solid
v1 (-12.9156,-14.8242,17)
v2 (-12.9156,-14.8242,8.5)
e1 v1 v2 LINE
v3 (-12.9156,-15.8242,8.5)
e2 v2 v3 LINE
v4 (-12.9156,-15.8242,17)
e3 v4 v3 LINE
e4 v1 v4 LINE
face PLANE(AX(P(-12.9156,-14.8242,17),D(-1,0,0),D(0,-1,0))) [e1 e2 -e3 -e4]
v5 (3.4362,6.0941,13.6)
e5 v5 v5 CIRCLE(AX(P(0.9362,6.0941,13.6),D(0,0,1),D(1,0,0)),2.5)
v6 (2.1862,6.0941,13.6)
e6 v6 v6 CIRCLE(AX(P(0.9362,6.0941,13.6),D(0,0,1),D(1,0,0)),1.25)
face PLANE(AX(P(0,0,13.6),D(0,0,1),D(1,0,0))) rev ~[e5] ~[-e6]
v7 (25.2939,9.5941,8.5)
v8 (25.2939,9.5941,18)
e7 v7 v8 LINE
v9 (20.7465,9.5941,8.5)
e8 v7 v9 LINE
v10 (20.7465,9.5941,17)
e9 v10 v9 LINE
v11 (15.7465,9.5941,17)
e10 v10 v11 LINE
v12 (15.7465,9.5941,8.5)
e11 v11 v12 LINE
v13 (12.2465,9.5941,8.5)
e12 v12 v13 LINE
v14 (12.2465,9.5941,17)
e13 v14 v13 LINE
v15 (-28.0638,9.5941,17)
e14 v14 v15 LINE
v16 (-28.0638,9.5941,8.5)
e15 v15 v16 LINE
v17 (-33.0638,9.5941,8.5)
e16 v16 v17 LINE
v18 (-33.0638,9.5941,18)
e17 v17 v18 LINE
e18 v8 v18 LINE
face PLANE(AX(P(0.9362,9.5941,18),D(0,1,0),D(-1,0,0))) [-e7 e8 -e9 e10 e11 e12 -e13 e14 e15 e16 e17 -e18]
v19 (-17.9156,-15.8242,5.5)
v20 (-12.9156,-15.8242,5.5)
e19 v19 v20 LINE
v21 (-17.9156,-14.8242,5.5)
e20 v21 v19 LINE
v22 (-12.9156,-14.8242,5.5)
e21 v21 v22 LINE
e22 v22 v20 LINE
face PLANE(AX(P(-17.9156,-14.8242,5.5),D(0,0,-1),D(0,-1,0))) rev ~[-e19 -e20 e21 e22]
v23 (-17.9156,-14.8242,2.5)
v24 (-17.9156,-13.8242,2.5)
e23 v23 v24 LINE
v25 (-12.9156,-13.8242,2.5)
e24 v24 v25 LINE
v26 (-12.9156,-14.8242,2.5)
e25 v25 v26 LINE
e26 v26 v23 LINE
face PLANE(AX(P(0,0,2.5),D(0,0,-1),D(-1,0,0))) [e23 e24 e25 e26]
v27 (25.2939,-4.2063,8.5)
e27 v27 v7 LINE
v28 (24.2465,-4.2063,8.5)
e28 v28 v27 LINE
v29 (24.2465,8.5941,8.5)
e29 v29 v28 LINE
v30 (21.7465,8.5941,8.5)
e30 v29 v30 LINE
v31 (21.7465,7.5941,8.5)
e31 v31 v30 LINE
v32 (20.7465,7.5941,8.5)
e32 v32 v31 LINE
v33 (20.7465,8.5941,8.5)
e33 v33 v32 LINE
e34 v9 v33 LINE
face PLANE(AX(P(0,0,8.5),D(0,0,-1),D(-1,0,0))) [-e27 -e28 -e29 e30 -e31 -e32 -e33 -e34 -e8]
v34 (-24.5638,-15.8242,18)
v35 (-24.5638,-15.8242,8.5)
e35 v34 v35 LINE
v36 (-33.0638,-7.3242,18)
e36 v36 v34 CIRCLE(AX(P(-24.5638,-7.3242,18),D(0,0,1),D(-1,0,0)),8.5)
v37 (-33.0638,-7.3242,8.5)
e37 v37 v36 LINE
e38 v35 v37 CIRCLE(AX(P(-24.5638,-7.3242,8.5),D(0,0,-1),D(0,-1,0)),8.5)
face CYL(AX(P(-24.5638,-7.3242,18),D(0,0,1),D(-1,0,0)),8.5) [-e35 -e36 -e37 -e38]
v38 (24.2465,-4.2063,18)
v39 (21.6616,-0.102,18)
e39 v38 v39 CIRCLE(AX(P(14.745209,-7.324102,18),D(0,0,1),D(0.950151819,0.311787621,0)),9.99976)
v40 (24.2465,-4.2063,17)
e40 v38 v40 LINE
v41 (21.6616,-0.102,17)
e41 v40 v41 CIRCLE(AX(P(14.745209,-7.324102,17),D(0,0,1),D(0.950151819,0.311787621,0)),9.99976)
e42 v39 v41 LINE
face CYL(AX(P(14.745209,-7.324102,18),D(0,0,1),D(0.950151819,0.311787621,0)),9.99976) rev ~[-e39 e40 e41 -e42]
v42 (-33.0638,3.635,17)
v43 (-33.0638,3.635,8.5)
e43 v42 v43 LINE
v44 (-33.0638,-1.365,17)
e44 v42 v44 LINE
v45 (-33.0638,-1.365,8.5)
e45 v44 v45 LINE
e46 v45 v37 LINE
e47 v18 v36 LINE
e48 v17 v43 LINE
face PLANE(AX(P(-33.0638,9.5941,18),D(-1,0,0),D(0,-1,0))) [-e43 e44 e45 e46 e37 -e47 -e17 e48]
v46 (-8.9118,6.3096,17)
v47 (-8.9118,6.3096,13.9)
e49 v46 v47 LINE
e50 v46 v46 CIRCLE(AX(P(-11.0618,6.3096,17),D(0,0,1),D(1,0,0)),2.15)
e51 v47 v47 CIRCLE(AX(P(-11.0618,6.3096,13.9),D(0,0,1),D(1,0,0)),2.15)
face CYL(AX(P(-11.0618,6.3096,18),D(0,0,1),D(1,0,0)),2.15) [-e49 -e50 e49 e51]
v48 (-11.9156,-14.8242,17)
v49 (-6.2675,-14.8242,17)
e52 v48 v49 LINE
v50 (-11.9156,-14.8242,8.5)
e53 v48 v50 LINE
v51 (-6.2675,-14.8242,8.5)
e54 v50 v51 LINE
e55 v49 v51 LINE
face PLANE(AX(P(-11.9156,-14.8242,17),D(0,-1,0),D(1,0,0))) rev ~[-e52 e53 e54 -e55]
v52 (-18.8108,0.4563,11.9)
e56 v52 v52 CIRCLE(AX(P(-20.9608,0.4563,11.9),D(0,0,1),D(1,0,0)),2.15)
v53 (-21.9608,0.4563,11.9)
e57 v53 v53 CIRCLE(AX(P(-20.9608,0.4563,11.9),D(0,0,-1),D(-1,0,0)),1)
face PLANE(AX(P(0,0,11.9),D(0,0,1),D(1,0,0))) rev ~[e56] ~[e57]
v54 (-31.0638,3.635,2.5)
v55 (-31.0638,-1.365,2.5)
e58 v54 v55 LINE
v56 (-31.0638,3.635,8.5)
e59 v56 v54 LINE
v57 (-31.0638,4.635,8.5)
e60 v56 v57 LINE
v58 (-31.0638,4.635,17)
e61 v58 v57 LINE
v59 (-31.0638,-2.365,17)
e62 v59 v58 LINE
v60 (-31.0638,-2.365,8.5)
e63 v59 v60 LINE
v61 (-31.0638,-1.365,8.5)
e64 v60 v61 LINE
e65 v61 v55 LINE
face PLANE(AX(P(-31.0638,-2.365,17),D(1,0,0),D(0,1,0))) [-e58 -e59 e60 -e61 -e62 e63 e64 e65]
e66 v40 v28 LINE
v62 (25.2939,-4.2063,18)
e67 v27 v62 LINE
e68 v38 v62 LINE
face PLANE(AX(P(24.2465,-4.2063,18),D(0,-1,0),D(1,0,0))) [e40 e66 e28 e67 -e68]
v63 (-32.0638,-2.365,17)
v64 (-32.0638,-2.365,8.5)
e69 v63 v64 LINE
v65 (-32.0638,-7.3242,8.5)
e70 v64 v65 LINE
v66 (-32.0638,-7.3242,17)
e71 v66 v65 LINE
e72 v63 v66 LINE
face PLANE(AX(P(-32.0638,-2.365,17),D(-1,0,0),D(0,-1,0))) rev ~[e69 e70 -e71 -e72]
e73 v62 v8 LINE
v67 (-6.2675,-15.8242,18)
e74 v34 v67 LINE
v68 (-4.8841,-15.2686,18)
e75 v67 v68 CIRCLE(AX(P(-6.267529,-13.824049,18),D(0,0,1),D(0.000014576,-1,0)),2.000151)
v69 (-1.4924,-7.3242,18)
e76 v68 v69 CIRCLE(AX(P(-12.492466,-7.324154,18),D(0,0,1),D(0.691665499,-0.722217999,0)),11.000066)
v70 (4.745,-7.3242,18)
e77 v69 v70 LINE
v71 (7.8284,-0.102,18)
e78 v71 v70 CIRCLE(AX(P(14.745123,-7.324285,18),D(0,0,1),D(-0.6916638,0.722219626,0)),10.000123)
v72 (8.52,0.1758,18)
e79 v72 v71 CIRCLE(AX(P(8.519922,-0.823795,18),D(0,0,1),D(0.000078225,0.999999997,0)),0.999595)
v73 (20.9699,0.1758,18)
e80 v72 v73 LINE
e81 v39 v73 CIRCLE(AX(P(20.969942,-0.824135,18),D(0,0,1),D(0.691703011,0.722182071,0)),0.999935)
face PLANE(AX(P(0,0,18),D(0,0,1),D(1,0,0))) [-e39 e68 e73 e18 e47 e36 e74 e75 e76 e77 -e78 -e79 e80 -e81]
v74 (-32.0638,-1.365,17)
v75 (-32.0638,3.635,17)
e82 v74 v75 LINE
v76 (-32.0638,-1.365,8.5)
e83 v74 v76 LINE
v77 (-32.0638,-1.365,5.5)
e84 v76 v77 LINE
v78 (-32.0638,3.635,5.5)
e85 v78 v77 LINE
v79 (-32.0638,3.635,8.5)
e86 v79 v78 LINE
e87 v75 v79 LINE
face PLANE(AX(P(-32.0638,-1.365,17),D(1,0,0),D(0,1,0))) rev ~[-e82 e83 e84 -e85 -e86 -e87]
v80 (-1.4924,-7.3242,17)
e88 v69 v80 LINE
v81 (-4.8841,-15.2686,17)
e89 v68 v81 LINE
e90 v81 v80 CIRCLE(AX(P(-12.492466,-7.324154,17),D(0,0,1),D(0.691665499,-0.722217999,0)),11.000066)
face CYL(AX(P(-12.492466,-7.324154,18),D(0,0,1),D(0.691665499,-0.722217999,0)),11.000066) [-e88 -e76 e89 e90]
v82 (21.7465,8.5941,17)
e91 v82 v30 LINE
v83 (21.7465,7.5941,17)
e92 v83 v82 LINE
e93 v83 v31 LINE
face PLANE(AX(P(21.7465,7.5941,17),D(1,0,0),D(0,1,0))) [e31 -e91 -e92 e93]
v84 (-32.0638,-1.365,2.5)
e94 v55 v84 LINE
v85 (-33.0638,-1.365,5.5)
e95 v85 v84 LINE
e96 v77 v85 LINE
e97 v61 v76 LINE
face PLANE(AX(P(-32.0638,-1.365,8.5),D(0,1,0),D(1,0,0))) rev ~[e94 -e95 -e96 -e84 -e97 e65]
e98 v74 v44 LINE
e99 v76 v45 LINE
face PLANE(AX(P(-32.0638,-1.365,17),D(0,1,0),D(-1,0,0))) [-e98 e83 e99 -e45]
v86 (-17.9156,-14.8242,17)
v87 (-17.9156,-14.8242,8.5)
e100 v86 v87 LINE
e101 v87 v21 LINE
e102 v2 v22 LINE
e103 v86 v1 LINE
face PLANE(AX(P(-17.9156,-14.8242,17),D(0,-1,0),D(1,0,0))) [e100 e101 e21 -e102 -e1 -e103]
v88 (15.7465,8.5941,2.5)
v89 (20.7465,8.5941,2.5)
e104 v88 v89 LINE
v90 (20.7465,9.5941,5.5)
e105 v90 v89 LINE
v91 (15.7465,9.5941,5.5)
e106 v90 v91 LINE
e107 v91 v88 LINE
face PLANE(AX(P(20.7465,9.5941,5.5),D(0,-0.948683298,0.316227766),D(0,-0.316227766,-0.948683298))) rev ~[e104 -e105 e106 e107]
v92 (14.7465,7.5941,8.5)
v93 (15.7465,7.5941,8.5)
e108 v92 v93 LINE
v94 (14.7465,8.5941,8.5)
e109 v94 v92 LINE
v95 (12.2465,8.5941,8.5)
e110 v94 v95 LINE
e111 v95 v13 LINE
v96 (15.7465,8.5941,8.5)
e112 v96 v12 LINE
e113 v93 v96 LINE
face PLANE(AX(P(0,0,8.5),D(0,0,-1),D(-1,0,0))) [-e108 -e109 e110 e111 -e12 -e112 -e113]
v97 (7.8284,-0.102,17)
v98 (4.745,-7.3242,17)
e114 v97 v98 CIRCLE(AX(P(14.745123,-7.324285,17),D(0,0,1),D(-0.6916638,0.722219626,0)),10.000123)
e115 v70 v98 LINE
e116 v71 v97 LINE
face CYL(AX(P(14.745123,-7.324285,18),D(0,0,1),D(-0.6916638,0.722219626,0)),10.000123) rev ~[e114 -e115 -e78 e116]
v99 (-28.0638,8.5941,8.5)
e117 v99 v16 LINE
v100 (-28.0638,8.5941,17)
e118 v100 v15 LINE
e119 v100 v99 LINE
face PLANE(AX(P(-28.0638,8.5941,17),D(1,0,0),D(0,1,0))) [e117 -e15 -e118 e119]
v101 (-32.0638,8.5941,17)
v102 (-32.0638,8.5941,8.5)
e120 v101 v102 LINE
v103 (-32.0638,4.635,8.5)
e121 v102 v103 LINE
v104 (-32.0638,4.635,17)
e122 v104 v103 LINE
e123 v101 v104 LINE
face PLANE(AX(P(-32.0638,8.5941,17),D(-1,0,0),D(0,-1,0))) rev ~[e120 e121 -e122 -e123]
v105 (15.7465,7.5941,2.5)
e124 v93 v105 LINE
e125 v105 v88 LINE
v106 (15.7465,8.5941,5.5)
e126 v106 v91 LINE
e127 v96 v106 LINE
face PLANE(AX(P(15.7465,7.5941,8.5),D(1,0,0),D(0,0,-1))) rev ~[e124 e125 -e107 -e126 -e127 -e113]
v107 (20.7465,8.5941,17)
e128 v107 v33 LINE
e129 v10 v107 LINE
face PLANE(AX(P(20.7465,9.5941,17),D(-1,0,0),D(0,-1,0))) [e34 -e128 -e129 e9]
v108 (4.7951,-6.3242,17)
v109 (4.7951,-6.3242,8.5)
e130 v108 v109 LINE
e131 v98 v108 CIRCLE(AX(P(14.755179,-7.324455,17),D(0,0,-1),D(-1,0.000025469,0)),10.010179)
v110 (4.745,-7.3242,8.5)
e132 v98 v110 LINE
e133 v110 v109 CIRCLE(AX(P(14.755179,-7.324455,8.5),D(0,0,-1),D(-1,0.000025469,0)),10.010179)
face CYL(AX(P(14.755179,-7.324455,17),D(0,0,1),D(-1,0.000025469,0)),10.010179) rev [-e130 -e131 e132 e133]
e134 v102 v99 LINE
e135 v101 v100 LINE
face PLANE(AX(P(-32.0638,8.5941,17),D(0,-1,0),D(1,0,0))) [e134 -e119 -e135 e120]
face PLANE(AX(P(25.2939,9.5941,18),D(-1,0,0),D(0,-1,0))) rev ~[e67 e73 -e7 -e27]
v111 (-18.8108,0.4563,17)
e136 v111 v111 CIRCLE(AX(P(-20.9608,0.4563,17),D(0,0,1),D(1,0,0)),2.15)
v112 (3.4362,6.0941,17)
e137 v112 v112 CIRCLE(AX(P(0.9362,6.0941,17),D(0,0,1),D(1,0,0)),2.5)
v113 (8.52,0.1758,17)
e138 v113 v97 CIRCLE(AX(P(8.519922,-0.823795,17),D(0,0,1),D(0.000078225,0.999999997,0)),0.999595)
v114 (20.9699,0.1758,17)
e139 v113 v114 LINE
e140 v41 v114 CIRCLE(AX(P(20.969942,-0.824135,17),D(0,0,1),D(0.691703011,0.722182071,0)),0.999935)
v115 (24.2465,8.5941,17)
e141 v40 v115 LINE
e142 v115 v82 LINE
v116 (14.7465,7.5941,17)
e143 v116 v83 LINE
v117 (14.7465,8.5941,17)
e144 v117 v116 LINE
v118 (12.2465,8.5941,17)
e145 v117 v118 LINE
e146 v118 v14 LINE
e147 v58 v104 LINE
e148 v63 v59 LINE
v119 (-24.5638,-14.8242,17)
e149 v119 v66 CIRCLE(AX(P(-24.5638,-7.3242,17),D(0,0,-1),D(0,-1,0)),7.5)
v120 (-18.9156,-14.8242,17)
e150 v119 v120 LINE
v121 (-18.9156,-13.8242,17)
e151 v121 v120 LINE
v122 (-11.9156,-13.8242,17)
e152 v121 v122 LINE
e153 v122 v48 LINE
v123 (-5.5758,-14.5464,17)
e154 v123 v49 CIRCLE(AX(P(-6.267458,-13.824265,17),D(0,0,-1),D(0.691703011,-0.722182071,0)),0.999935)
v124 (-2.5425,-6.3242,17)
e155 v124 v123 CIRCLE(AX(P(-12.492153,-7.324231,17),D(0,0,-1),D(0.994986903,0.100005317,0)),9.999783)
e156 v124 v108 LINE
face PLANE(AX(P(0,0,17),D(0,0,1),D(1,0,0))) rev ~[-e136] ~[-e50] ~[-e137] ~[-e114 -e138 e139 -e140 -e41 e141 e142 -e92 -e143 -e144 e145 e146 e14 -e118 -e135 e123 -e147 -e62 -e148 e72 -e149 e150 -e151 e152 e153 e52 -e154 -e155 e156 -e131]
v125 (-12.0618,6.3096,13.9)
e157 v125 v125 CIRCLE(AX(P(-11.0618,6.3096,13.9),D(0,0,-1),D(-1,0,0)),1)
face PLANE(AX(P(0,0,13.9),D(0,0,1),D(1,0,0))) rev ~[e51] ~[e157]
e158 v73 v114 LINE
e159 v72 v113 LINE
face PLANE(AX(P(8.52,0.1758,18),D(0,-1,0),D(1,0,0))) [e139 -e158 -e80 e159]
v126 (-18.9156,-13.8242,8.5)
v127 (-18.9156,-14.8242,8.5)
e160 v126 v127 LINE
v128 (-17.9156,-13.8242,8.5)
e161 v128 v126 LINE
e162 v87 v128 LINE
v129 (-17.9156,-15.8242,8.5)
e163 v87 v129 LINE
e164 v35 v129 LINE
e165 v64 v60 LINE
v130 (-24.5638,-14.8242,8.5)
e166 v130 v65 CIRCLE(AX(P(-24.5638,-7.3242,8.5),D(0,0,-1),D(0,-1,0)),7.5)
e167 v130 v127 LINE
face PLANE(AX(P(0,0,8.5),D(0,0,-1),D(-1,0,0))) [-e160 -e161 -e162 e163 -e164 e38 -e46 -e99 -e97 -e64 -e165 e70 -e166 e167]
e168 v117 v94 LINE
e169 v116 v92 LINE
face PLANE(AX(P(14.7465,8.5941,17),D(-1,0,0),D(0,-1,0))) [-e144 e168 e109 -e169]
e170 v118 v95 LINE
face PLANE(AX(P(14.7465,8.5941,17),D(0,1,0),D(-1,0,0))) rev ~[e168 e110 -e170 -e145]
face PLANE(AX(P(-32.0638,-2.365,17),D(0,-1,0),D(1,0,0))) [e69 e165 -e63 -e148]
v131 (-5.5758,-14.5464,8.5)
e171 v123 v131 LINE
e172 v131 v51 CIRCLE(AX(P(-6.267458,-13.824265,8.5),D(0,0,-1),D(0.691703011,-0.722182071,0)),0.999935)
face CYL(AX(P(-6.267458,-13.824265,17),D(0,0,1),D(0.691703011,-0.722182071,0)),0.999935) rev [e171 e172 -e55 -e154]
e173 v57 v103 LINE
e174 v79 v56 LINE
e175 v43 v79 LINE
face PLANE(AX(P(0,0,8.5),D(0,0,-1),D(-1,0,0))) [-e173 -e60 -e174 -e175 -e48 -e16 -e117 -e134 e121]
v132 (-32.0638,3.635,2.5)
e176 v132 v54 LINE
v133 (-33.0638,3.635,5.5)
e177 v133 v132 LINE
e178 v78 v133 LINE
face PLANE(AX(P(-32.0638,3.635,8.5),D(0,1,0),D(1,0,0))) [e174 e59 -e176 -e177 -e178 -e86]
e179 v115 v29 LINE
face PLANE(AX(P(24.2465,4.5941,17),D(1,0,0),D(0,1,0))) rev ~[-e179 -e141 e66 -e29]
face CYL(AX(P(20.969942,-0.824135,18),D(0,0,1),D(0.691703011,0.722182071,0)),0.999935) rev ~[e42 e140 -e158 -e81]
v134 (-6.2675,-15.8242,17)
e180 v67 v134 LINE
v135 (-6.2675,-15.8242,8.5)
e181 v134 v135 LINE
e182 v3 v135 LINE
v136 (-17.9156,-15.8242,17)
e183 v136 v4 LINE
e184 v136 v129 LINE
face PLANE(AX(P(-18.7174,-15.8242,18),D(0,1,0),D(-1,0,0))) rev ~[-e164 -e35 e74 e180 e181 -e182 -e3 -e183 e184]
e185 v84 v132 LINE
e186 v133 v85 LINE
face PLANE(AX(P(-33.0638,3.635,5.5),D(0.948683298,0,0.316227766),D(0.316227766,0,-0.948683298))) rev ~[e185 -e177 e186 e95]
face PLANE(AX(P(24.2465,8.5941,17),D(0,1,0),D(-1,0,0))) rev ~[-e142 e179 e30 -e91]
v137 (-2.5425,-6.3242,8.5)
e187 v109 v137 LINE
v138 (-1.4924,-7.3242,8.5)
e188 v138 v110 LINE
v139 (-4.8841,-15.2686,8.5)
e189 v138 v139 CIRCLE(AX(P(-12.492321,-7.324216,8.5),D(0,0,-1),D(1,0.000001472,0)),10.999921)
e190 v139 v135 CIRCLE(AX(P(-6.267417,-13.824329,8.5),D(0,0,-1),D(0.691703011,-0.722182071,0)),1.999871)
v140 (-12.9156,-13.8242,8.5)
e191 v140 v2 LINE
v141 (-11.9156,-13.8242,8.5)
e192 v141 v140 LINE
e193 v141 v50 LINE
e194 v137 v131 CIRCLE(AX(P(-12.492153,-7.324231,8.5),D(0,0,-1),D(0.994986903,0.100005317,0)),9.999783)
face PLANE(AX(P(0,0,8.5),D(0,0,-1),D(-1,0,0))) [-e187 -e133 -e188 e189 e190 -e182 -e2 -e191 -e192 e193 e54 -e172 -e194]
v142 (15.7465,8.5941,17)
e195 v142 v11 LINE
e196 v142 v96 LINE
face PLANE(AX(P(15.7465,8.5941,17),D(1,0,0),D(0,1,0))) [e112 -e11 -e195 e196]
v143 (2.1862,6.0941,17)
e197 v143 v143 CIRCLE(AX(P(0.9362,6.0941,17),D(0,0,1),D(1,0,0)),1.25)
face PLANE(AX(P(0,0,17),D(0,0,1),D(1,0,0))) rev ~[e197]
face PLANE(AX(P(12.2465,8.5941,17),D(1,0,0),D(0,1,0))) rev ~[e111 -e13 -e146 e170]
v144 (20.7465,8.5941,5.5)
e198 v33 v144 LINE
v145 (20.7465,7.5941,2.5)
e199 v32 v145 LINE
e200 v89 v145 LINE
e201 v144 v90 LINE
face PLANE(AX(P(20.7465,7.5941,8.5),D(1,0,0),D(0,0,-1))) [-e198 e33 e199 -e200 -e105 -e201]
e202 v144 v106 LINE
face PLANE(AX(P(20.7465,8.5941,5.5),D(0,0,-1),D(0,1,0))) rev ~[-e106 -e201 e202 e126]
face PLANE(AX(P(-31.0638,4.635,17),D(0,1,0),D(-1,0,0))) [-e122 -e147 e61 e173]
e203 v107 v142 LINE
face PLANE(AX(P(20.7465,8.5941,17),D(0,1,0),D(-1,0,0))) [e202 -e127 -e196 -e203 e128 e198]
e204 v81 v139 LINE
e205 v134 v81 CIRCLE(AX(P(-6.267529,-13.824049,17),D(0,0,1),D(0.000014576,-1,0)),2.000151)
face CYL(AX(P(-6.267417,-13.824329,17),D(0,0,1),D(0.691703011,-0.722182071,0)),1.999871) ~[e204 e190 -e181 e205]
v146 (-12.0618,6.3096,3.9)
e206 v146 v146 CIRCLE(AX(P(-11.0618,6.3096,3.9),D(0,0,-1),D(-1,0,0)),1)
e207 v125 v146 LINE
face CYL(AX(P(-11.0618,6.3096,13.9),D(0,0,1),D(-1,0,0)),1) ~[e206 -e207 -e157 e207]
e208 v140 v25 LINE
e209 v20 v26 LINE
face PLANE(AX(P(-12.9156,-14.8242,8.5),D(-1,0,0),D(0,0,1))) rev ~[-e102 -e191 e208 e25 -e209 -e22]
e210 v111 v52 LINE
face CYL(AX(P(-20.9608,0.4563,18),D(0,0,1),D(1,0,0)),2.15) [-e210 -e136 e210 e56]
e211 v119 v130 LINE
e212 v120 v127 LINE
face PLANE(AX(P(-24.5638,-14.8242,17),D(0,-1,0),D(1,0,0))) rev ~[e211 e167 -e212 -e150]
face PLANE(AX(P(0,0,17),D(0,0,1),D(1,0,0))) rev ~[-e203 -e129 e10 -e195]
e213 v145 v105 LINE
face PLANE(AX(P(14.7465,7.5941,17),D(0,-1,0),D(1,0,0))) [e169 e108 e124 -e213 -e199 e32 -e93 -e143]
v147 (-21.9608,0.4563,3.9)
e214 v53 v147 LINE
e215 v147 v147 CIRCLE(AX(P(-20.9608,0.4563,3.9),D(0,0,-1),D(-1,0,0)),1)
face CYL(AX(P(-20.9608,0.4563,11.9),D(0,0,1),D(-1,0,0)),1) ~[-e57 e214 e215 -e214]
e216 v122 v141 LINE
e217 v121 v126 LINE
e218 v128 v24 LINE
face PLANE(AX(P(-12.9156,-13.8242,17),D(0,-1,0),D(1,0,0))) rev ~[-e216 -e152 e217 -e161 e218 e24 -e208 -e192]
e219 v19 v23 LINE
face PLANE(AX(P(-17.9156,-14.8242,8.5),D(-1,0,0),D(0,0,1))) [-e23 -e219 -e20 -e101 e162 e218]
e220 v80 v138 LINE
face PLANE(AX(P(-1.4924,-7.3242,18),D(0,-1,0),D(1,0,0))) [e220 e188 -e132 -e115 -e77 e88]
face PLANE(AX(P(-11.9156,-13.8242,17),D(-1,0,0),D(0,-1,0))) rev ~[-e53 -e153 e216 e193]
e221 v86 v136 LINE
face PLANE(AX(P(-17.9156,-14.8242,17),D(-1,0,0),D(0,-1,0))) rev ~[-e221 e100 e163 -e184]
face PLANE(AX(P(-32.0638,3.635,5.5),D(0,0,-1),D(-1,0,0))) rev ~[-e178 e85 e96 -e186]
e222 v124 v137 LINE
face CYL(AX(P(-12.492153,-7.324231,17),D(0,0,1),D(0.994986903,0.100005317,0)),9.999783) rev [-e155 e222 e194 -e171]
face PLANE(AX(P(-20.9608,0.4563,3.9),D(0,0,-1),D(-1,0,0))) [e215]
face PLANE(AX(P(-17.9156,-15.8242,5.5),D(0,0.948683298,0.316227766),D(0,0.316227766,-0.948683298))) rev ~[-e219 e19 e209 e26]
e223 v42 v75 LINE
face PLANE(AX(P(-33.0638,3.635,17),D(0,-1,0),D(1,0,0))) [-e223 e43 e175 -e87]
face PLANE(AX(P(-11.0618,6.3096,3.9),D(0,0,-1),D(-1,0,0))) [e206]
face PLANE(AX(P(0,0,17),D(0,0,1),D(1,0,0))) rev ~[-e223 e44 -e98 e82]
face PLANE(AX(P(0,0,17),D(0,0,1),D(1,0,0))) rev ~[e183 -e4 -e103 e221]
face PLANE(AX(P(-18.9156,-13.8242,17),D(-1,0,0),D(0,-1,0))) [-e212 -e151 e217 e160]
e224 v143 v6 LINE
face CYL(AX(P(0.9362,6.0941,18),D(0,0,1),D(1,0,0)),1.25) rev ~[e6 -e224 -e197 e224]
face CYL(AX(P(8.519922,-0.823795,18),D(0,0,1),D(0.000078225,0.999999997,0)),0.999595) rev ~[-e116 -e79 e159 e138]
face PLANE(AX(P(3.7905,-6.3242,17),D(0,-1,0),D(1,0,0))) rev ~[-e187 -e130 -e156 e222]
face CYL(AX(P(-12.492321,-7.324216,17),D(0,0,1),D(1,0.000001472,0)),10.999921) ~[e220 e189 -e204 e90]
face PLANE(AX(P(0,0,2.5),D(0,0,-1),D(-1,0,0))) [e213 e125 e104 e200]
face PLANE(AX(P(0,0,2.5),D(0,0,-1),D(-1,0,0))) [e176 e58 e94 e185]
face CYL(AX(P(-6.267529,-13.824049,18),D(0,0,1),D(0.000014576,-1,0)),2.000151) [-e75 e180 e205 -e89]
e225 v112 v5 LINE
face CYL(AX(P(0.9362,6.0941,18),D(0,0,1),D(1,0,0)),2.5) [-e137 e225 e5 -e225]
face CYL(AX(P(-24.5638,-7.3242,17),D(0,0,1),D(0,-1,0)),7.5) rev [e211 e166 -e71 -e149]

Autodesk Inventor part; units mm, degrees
ref_plane "Work Plane1" through (0, 0, 18) normal (0, 0, 1) x (1, 0, 0)
sketch "Sketch1" plane through (0, 0, 18) normal (0, 0, 1) x (1, 0, 0)
  circle A0 centre (0.9362, 6.0941) radius 2.5 projected
  circle A1 centre (0.9362, 6.0941) radius 1.25
  point P0 (0, 0)
ref_plane "Work Plane2" through (-2.3703, 2.7876, 13.6) normal (0, 0, 1) x (0.9119, -0.4105, 0)
ref_plane "Work Plane3" through (-2.3703, 2.7876, 13.6) normal (0, 0, 1) x (0.9119, -0.4105, 0)
extrude "Extrusion2" add sketch "Sketch1" against normal up to surface (4.4 mm away)
sketch "Sketch2" plane through (0, 0, 18) normal (0, 0, 1) x (1, 0, 0)
  circle A0 centre (-11.0618, 6.3096) radius 2.15 projected
  point P0 (0, 0)
ref_plane "Work Plane4" through (-14.169, 3.2822, 13.9) normal (0, 0, 1) x (0.9993, -0.0374, 0)
extrude "Extrusion3" add sketch "Sketch2" against normal up to surface (4.1 mm away)
sketch "Sketch3" plane through (-11.0618, 6.3096, 13.9) normal (0, 0, -1) x (-1, 0, 0)
  circle A0 centre (0, 0) radius 1 projected
  point P0 (-11.0618, -6.3096)
extrude "Extrusion4" add sketch "Sketch3" along normal blind 10
sketch "Sketch4" plane through (0, 0, 18) normal (0, 0, 1) x (1, 0, 0)
  circle A0 centre (-20.9608, 0.4563) radius 2.15 projected
  point P0 (0, 0)
ref_plane "Work Plane5" through (-25.1421, -3.7287, 11.9) normal (0, 0, 1) x (0.73, 0.6834, 0)
extrude "Extrusion5" add sketch "Sketch4" against normal up to surface (6.1 mm away)
sketch "Sketch5" plane through (-20.9608, 0.4563, 11.9) normal (0, 0, -1) x (-1, 0, 0)
  circle A0 centre (0, 0) radius 1 projected
  point P0 (-20.9608, -0.4563)
extrude "Extrusion6" add sketch "Sketch5" along normal up to surface (8 mm away)
sketch "Sketch6" plane through (0, 0, 18) normal (0, 0, 1) x (1, 0, 0)
  line L0 (-18.7174, -15.8242) -> (-6.2675, -15.8242)
  arc A0 (-6.2675, -15.8242) -> (-4.8841, -15.2686) centre (-6.2675, -13.8242) ccw
  arc A1 (-4.8841, -15.2686) -> (-1.4924, -7.3242) centre (-12.4924, -7.3242) ccw
  line L1 (-1.4924, -7.3242) -> (4.745, -7.3242)
  arc A2 (7.8284, -0.102) -> (4.745, -7.3242) centre (14.745, -7.3242) ccw
  arc A3 (8.52, 0.1758) -> (7.8284, -0.102) centre (8.52, -0.8242) ccw
  line L2 (8.52, 0.1758) -> (20.9699, 0.1758)
  arc A4 (21.6616, -0.102) -> (20.9699, 0.1758) centre (20.9699, -0.8242) ccw
  arc A5 (24.2465, -4.2063) -> (21.6616, -0.102) centre (14.745, -7.3242) ccw
  line L3 (24.2465, -4.2063) -> (25.2939, -4.2063)
  line L4 (25.2939, -4.2063) -> (25.2939, 8.6758)
  line L5 (0.9362, 9.5941) -> (25.2939, 9.5941)
  line L6 (25.2939, 9.5941) -> (25.2939, 8.6758)
  line L7 (0.9362, 9.5941) -> (-33.0638, 9.5941)
  line L8 (-33.0638, 9.5941) -> (-33.0638, -7.3242)
  line L9 (-18.7174, -15.8242) -> (-24.5638, -15.8242)
  arc A6 (-33.0638, -7.3242) -> (-24.5638, -15.8242) centre (-24.5638, -7.3242) ccw projected
  point P0 (0, 0)
extrude "Extrusion7" add sketch "Sketch6" against normal blind 1
sketch "Sketch7" plane through (0, 0, 17) normal (0, 0, -1) x (-1, 0, 0)
  arc A0 (4.8841, -15.2686) -> (6.2675, -15.8242) centre (6.2675, -13.8242) ccw
  arc A1 (1.4924, -7.3242) -> (4.8841, -15.2686) centre (12.4924, -7.3242) ccw
  line L0 (1.4924, -7.3242) -> (-4.745, -7.3242)
  arc A2 (-4.745, -7.3242) -> (-4.7951, -6.3242) centre (-14.745, -7.3242) ccw
  line L1 (-24.2465, -4.2063) -> (-25.2939, -4.2063)
  line L2 (-25.2939, -4.2063) -> (-25.2939, 9.5941)
  arc A3 (5.5758, -14.5464) -> (6.2675, -14.8242) centre (6.2675, -13.8242) ccw
  arc A4 (2.5425, -6.3242) -> (5.5758, -14.5464) centre (12.4924, -7.3242) ccw
  line L3 (2.5425, -6.3242) -> (-3.7905, -6.3242)
  line L4 (-13.2939, 9.5941) -> (-12.2465, 9.5941)
  line L5 (-24.2465, -4.2063) -> (-24.2465, 3.5941)
  line L6 (-24.2465, 4.5941) -> (-24.2465, 8.5941)
  line L7 (-3.7905, -6.3242) -> (-4.7951, -6.3242)
  line L8 (-24.2465, 3.5941) -> (-24.2465, 8.5941)
  arc A5 (24.5638, -14.8242) -> (32.0638, -7.3242) centre (24.5638, -7.3242) ccw projected
  arc A6 (24.5638, -15.8242) -> (33.0638, -7.3242) centre (24.5638, -7.3242) ccw projected
  line L9 (17.9156, -14.8242) -> (12.9156, -14.8242)
  line L10 (12.9156, -13.8242) -> (17.9156, -13.8242)
  line L11 (12.9156, -14.8242) -> (12.9156, -15.8242)
  line L12 (17.9156, -14.8242) -> (17.9156, -15.8242)
  line L13 (17.9156, -13.8242) -> (18.9156, -13.8242)
  line L14 (18.9156, -13.8242) -> (18.9156, -14.8242)
  line L15 (12.9156, -13.8242) -> (11.9156, -13.8242)
  line L16 (11.9156, -13.8242) -> (11.9156, -14.8242)
  line L17 (24.5638, -15.8242) -> (17.9156, -15.8242)
  line L18 (12.9156, -15.8242) -> (6.2675, -15.8242)
  line L19 (11.9156, -14.8242) -> (6.2675, -14.8242)
  line L20 (24.5638, -14.8242) -> (18.9156, -14.8242)
  line L21 (17.9156, -14.8242) -> (12.9156, -14.8242)
  line L22 (32.0638, -1.365) -> (32.0638, 3.635)
  line L23 (33.0638, 3.635) -> (32.0638, 3.635)
  line L24 (32.0638, 3.635) -> (32.0638, -1.365)
  line L25 (32.0638, -1.365) -> (33.0638, -1.365)
  line L26 (32.0638, -2.365) -> (31.0638, -2.365)
  line L27 (31.0638, -2.365) -> (31.0638, 4.635)
  line L28 (31.0638, 4.635) -> (32.0638, 4.635)
  line L29 (32.0638, -2.365) -> (32.0638, -7.3242)
  line L30 (32.0638, 8.5941) -> (32.0638, 4.635)
  line L31 (32.0638, 3.635) -> (32.0638, -1.365)
  line L32 (33.0638, 9.5941) -> (33.0638, 3.635)
  line L33 (33.0638, -1.365) -> (33.0638, -7.3242)
  line L34 (33.0638, 9.5941) -> (33.0638, 3.635)
  line L35 (33.0638, -1.365) -> (33.0638, -7.3242)
  line L36 (32.0638, 8.5941) -> (28.0638, 8.5941)
  line L37 (28.0638, 8.5941) -> (28.0638, 9.5941)
  line L38 (-12.2465, 8.5941) -> (-12.2465, 9.5941)
  line L39 (-20.7465, 9.5941) -> (-20.7465, 8.5941)
  line L40 (-20.7465, 8.5941) -> (-15.7465, 8.5941)
  line L41 (-15.7465, 8.5941) -> (-15.7465, 9.5941)
  line L42 (-14.7465, 7.5941) -> (-21.7465, 7.5941)
  line L43 (-21.7465, 7.5941) -> (-21.7465, 8.5941)
  line L44 (-14.7465, 8.5941) -> (-14.7465, 7.5941)
  line L45 (-24.2465, 8.5941) -> (-21.7465, 8.5941)
  line L46 (-20.7465, 8.5941) -> (-15.7465, 8.5941)
  line L47 (-14.7465, 8.5941) -> (-12.2465, 8.5941)
  line L48 (-25.2939, 9.5941) -> (-20.7465, 9.5941)
  line L49 (-15.7465, 9.5941) -> (33.0638, 9.5941)
  line L50 (33.0638, 9.5941) -> (-15.7465, 9.5941)
  line L51 (-20.7465, 9.5941) -> (-25.2939, 9.5941)
  line L52 (-25.2939, 9.5941) -> (-20.7465, 9.5941)
  line L53 (-15.7465, 9.5941) -> (33.0638, 9.5941)
  point P0 (0, 0)
  point P1 (32.0638, 9.5941)
  point P2 (-24.2465, 9.5941)
  point P3 (15.4156, -14.8242)
  point P4 (15.4156, -14.3242)
  point P5 (33.0638, 1.135)
  point P6 (32.5638, 1.135)
  point P7 (-18.2465, 8.5941)
extrude "Extrusion9" add sketch "Sketch7" along normal blind 8.5
sketch "Sketch11" plane through (0, 0, 8.5) normal (0, 0, -1) x (-1, 0, 0)
  line L0 (17.9156, -13.8242) -> (12.9156, -13.8242)
  line L1 (12.9156, -13.8242) -> (17.9156, -13.8242)
  line L2 (12.9156, -14.8242) -> (17.9156, -14.8242)
  line L3 (17.9156, -13.8242) -> (12.9156, -13.8242)
  line L4 (12.9156, -13.8242) -> (12.9156, -14.8242)
  line L5 (12.9156, -14.8242) -> (17.9156, -14.8242)
  line L6 (17.9156, -14.8242) -> (17.9156, -13.8242)
  line L7 (17.9156, -13.8242) -> (12.9156, -14.8242) construction
  line L8 (12.9156, -13.8242) -> (17.9156, -14.8242) construction
  line L9 (31.0638, 3.635) -> (31.0638, -1.365)
  line L10 (31.0638, -1.365) -> (31.0638, 3.635)
  line L11 (32.0638, -1.365) -> (32.0638, 3.635)
  line L12 (32.0638, 3.635) -> (31.0638, 3.635)
  line L13 (31.0638, 3.635) -> (31.0638, -1.365)
  line L14 (31.0638, -1.365) -> (32.0638, -1.365)
  line L15 (32.0638, -1.365) -> (32.0638, 3.635)
  line L16 (32.0638, 3.635) -> (31.0638, -1.365) construction
  line L17 (31.0638, 3.635) -> (32.0638, -1.365) construction
  line L18 (-20.7465, 7.5941) -> (-15.7465, 7.5941)
  line L19 (-15.7465, 7.5941) -> (-20.7465, 7.5941)
  line L20 (-15.7465, 8.5941) -> (-20.7465, 8.5941)
  line L21 (-15.7465, 8.5941) -> (-20.7465, 8.5941)
  line L22 (-20.7465, 8.5941) -> (-20.7465, 7.5941)
  line L23 (-20.7465, 7.5941) -> (-15.7465, 7.5941)
  line L24 (-15.7465, 7.5941) -> (-15.7465, 8.5941)
  line L25 (-15.7465, 8.5941) -> (-20.7465, 7.5941) construction
  line L26 (-20.7465, 8.5941) -> (-15.7465, 7.5941) construction
  point P0 (0, 0)
  point P1 (15.4156, -14.3242)
  point P2 (31.5638, 1.135)
  point P3 (-18.2465, 8.0941)
extrude "Extrusion12" add sketch "Sketch11" along normal blind 6
sketch "Sketch12" plane through (-17.9156, -14.8242, 8.5) normal (-1, 0, 0) x (0, 0, 1)
  line L0 (-6, 0) -> (-3, 0)
  line L1 (0, 0) -> (-6, 0) projected
  line L2 (-3, 0) -> (-3, -1)
  line L3 (-3, -1) -> (-6, 0)
  point P0 (-8.5, 14.8242)
  dimension "d53" = 3
  dimension "d54" = 1
extrude "Extrusion13" add sketch "Sketch12" against normal blind 5
sketch "Sketch13" plane through (-32.0638, 3.635, 8.5) normal (0, 1, 0) x (1, 0, 0)
  line L0 (0, 6) -> (0, 3)
  line L1 (0, 0) -> (0, 6) projected
  line L2 (0, 3) -> (-1, 3)
  line L3 (-1, 3) -> (0, 6)
  point P0 (32.0638, 8.5)
  dimension "d57" = 3
  dimension "d58" = 1
extrude "Extrusion14" add sketch "Sketch13" against normal blind 5
sketch "Sketch14" plane through (20.7465, 7.5941, 8.5) normal (1, 0, 0) x (0, 0, -1)
  line L0 (6, 1) -> (3, 1)
  line L1 (0, 1) -> (6, 1) projected
  line L2 (3, 1) -> (3, 2)
  line L3 (3, 2) -> (6, 1)
  point P0 (8.5, -7.5941)
  dimension "d61" = 3
  dimension "d62" = 1
extrude "Extrusion15" add sketch "Sketch14" against normal blind 5
properties part number "frame1b"
